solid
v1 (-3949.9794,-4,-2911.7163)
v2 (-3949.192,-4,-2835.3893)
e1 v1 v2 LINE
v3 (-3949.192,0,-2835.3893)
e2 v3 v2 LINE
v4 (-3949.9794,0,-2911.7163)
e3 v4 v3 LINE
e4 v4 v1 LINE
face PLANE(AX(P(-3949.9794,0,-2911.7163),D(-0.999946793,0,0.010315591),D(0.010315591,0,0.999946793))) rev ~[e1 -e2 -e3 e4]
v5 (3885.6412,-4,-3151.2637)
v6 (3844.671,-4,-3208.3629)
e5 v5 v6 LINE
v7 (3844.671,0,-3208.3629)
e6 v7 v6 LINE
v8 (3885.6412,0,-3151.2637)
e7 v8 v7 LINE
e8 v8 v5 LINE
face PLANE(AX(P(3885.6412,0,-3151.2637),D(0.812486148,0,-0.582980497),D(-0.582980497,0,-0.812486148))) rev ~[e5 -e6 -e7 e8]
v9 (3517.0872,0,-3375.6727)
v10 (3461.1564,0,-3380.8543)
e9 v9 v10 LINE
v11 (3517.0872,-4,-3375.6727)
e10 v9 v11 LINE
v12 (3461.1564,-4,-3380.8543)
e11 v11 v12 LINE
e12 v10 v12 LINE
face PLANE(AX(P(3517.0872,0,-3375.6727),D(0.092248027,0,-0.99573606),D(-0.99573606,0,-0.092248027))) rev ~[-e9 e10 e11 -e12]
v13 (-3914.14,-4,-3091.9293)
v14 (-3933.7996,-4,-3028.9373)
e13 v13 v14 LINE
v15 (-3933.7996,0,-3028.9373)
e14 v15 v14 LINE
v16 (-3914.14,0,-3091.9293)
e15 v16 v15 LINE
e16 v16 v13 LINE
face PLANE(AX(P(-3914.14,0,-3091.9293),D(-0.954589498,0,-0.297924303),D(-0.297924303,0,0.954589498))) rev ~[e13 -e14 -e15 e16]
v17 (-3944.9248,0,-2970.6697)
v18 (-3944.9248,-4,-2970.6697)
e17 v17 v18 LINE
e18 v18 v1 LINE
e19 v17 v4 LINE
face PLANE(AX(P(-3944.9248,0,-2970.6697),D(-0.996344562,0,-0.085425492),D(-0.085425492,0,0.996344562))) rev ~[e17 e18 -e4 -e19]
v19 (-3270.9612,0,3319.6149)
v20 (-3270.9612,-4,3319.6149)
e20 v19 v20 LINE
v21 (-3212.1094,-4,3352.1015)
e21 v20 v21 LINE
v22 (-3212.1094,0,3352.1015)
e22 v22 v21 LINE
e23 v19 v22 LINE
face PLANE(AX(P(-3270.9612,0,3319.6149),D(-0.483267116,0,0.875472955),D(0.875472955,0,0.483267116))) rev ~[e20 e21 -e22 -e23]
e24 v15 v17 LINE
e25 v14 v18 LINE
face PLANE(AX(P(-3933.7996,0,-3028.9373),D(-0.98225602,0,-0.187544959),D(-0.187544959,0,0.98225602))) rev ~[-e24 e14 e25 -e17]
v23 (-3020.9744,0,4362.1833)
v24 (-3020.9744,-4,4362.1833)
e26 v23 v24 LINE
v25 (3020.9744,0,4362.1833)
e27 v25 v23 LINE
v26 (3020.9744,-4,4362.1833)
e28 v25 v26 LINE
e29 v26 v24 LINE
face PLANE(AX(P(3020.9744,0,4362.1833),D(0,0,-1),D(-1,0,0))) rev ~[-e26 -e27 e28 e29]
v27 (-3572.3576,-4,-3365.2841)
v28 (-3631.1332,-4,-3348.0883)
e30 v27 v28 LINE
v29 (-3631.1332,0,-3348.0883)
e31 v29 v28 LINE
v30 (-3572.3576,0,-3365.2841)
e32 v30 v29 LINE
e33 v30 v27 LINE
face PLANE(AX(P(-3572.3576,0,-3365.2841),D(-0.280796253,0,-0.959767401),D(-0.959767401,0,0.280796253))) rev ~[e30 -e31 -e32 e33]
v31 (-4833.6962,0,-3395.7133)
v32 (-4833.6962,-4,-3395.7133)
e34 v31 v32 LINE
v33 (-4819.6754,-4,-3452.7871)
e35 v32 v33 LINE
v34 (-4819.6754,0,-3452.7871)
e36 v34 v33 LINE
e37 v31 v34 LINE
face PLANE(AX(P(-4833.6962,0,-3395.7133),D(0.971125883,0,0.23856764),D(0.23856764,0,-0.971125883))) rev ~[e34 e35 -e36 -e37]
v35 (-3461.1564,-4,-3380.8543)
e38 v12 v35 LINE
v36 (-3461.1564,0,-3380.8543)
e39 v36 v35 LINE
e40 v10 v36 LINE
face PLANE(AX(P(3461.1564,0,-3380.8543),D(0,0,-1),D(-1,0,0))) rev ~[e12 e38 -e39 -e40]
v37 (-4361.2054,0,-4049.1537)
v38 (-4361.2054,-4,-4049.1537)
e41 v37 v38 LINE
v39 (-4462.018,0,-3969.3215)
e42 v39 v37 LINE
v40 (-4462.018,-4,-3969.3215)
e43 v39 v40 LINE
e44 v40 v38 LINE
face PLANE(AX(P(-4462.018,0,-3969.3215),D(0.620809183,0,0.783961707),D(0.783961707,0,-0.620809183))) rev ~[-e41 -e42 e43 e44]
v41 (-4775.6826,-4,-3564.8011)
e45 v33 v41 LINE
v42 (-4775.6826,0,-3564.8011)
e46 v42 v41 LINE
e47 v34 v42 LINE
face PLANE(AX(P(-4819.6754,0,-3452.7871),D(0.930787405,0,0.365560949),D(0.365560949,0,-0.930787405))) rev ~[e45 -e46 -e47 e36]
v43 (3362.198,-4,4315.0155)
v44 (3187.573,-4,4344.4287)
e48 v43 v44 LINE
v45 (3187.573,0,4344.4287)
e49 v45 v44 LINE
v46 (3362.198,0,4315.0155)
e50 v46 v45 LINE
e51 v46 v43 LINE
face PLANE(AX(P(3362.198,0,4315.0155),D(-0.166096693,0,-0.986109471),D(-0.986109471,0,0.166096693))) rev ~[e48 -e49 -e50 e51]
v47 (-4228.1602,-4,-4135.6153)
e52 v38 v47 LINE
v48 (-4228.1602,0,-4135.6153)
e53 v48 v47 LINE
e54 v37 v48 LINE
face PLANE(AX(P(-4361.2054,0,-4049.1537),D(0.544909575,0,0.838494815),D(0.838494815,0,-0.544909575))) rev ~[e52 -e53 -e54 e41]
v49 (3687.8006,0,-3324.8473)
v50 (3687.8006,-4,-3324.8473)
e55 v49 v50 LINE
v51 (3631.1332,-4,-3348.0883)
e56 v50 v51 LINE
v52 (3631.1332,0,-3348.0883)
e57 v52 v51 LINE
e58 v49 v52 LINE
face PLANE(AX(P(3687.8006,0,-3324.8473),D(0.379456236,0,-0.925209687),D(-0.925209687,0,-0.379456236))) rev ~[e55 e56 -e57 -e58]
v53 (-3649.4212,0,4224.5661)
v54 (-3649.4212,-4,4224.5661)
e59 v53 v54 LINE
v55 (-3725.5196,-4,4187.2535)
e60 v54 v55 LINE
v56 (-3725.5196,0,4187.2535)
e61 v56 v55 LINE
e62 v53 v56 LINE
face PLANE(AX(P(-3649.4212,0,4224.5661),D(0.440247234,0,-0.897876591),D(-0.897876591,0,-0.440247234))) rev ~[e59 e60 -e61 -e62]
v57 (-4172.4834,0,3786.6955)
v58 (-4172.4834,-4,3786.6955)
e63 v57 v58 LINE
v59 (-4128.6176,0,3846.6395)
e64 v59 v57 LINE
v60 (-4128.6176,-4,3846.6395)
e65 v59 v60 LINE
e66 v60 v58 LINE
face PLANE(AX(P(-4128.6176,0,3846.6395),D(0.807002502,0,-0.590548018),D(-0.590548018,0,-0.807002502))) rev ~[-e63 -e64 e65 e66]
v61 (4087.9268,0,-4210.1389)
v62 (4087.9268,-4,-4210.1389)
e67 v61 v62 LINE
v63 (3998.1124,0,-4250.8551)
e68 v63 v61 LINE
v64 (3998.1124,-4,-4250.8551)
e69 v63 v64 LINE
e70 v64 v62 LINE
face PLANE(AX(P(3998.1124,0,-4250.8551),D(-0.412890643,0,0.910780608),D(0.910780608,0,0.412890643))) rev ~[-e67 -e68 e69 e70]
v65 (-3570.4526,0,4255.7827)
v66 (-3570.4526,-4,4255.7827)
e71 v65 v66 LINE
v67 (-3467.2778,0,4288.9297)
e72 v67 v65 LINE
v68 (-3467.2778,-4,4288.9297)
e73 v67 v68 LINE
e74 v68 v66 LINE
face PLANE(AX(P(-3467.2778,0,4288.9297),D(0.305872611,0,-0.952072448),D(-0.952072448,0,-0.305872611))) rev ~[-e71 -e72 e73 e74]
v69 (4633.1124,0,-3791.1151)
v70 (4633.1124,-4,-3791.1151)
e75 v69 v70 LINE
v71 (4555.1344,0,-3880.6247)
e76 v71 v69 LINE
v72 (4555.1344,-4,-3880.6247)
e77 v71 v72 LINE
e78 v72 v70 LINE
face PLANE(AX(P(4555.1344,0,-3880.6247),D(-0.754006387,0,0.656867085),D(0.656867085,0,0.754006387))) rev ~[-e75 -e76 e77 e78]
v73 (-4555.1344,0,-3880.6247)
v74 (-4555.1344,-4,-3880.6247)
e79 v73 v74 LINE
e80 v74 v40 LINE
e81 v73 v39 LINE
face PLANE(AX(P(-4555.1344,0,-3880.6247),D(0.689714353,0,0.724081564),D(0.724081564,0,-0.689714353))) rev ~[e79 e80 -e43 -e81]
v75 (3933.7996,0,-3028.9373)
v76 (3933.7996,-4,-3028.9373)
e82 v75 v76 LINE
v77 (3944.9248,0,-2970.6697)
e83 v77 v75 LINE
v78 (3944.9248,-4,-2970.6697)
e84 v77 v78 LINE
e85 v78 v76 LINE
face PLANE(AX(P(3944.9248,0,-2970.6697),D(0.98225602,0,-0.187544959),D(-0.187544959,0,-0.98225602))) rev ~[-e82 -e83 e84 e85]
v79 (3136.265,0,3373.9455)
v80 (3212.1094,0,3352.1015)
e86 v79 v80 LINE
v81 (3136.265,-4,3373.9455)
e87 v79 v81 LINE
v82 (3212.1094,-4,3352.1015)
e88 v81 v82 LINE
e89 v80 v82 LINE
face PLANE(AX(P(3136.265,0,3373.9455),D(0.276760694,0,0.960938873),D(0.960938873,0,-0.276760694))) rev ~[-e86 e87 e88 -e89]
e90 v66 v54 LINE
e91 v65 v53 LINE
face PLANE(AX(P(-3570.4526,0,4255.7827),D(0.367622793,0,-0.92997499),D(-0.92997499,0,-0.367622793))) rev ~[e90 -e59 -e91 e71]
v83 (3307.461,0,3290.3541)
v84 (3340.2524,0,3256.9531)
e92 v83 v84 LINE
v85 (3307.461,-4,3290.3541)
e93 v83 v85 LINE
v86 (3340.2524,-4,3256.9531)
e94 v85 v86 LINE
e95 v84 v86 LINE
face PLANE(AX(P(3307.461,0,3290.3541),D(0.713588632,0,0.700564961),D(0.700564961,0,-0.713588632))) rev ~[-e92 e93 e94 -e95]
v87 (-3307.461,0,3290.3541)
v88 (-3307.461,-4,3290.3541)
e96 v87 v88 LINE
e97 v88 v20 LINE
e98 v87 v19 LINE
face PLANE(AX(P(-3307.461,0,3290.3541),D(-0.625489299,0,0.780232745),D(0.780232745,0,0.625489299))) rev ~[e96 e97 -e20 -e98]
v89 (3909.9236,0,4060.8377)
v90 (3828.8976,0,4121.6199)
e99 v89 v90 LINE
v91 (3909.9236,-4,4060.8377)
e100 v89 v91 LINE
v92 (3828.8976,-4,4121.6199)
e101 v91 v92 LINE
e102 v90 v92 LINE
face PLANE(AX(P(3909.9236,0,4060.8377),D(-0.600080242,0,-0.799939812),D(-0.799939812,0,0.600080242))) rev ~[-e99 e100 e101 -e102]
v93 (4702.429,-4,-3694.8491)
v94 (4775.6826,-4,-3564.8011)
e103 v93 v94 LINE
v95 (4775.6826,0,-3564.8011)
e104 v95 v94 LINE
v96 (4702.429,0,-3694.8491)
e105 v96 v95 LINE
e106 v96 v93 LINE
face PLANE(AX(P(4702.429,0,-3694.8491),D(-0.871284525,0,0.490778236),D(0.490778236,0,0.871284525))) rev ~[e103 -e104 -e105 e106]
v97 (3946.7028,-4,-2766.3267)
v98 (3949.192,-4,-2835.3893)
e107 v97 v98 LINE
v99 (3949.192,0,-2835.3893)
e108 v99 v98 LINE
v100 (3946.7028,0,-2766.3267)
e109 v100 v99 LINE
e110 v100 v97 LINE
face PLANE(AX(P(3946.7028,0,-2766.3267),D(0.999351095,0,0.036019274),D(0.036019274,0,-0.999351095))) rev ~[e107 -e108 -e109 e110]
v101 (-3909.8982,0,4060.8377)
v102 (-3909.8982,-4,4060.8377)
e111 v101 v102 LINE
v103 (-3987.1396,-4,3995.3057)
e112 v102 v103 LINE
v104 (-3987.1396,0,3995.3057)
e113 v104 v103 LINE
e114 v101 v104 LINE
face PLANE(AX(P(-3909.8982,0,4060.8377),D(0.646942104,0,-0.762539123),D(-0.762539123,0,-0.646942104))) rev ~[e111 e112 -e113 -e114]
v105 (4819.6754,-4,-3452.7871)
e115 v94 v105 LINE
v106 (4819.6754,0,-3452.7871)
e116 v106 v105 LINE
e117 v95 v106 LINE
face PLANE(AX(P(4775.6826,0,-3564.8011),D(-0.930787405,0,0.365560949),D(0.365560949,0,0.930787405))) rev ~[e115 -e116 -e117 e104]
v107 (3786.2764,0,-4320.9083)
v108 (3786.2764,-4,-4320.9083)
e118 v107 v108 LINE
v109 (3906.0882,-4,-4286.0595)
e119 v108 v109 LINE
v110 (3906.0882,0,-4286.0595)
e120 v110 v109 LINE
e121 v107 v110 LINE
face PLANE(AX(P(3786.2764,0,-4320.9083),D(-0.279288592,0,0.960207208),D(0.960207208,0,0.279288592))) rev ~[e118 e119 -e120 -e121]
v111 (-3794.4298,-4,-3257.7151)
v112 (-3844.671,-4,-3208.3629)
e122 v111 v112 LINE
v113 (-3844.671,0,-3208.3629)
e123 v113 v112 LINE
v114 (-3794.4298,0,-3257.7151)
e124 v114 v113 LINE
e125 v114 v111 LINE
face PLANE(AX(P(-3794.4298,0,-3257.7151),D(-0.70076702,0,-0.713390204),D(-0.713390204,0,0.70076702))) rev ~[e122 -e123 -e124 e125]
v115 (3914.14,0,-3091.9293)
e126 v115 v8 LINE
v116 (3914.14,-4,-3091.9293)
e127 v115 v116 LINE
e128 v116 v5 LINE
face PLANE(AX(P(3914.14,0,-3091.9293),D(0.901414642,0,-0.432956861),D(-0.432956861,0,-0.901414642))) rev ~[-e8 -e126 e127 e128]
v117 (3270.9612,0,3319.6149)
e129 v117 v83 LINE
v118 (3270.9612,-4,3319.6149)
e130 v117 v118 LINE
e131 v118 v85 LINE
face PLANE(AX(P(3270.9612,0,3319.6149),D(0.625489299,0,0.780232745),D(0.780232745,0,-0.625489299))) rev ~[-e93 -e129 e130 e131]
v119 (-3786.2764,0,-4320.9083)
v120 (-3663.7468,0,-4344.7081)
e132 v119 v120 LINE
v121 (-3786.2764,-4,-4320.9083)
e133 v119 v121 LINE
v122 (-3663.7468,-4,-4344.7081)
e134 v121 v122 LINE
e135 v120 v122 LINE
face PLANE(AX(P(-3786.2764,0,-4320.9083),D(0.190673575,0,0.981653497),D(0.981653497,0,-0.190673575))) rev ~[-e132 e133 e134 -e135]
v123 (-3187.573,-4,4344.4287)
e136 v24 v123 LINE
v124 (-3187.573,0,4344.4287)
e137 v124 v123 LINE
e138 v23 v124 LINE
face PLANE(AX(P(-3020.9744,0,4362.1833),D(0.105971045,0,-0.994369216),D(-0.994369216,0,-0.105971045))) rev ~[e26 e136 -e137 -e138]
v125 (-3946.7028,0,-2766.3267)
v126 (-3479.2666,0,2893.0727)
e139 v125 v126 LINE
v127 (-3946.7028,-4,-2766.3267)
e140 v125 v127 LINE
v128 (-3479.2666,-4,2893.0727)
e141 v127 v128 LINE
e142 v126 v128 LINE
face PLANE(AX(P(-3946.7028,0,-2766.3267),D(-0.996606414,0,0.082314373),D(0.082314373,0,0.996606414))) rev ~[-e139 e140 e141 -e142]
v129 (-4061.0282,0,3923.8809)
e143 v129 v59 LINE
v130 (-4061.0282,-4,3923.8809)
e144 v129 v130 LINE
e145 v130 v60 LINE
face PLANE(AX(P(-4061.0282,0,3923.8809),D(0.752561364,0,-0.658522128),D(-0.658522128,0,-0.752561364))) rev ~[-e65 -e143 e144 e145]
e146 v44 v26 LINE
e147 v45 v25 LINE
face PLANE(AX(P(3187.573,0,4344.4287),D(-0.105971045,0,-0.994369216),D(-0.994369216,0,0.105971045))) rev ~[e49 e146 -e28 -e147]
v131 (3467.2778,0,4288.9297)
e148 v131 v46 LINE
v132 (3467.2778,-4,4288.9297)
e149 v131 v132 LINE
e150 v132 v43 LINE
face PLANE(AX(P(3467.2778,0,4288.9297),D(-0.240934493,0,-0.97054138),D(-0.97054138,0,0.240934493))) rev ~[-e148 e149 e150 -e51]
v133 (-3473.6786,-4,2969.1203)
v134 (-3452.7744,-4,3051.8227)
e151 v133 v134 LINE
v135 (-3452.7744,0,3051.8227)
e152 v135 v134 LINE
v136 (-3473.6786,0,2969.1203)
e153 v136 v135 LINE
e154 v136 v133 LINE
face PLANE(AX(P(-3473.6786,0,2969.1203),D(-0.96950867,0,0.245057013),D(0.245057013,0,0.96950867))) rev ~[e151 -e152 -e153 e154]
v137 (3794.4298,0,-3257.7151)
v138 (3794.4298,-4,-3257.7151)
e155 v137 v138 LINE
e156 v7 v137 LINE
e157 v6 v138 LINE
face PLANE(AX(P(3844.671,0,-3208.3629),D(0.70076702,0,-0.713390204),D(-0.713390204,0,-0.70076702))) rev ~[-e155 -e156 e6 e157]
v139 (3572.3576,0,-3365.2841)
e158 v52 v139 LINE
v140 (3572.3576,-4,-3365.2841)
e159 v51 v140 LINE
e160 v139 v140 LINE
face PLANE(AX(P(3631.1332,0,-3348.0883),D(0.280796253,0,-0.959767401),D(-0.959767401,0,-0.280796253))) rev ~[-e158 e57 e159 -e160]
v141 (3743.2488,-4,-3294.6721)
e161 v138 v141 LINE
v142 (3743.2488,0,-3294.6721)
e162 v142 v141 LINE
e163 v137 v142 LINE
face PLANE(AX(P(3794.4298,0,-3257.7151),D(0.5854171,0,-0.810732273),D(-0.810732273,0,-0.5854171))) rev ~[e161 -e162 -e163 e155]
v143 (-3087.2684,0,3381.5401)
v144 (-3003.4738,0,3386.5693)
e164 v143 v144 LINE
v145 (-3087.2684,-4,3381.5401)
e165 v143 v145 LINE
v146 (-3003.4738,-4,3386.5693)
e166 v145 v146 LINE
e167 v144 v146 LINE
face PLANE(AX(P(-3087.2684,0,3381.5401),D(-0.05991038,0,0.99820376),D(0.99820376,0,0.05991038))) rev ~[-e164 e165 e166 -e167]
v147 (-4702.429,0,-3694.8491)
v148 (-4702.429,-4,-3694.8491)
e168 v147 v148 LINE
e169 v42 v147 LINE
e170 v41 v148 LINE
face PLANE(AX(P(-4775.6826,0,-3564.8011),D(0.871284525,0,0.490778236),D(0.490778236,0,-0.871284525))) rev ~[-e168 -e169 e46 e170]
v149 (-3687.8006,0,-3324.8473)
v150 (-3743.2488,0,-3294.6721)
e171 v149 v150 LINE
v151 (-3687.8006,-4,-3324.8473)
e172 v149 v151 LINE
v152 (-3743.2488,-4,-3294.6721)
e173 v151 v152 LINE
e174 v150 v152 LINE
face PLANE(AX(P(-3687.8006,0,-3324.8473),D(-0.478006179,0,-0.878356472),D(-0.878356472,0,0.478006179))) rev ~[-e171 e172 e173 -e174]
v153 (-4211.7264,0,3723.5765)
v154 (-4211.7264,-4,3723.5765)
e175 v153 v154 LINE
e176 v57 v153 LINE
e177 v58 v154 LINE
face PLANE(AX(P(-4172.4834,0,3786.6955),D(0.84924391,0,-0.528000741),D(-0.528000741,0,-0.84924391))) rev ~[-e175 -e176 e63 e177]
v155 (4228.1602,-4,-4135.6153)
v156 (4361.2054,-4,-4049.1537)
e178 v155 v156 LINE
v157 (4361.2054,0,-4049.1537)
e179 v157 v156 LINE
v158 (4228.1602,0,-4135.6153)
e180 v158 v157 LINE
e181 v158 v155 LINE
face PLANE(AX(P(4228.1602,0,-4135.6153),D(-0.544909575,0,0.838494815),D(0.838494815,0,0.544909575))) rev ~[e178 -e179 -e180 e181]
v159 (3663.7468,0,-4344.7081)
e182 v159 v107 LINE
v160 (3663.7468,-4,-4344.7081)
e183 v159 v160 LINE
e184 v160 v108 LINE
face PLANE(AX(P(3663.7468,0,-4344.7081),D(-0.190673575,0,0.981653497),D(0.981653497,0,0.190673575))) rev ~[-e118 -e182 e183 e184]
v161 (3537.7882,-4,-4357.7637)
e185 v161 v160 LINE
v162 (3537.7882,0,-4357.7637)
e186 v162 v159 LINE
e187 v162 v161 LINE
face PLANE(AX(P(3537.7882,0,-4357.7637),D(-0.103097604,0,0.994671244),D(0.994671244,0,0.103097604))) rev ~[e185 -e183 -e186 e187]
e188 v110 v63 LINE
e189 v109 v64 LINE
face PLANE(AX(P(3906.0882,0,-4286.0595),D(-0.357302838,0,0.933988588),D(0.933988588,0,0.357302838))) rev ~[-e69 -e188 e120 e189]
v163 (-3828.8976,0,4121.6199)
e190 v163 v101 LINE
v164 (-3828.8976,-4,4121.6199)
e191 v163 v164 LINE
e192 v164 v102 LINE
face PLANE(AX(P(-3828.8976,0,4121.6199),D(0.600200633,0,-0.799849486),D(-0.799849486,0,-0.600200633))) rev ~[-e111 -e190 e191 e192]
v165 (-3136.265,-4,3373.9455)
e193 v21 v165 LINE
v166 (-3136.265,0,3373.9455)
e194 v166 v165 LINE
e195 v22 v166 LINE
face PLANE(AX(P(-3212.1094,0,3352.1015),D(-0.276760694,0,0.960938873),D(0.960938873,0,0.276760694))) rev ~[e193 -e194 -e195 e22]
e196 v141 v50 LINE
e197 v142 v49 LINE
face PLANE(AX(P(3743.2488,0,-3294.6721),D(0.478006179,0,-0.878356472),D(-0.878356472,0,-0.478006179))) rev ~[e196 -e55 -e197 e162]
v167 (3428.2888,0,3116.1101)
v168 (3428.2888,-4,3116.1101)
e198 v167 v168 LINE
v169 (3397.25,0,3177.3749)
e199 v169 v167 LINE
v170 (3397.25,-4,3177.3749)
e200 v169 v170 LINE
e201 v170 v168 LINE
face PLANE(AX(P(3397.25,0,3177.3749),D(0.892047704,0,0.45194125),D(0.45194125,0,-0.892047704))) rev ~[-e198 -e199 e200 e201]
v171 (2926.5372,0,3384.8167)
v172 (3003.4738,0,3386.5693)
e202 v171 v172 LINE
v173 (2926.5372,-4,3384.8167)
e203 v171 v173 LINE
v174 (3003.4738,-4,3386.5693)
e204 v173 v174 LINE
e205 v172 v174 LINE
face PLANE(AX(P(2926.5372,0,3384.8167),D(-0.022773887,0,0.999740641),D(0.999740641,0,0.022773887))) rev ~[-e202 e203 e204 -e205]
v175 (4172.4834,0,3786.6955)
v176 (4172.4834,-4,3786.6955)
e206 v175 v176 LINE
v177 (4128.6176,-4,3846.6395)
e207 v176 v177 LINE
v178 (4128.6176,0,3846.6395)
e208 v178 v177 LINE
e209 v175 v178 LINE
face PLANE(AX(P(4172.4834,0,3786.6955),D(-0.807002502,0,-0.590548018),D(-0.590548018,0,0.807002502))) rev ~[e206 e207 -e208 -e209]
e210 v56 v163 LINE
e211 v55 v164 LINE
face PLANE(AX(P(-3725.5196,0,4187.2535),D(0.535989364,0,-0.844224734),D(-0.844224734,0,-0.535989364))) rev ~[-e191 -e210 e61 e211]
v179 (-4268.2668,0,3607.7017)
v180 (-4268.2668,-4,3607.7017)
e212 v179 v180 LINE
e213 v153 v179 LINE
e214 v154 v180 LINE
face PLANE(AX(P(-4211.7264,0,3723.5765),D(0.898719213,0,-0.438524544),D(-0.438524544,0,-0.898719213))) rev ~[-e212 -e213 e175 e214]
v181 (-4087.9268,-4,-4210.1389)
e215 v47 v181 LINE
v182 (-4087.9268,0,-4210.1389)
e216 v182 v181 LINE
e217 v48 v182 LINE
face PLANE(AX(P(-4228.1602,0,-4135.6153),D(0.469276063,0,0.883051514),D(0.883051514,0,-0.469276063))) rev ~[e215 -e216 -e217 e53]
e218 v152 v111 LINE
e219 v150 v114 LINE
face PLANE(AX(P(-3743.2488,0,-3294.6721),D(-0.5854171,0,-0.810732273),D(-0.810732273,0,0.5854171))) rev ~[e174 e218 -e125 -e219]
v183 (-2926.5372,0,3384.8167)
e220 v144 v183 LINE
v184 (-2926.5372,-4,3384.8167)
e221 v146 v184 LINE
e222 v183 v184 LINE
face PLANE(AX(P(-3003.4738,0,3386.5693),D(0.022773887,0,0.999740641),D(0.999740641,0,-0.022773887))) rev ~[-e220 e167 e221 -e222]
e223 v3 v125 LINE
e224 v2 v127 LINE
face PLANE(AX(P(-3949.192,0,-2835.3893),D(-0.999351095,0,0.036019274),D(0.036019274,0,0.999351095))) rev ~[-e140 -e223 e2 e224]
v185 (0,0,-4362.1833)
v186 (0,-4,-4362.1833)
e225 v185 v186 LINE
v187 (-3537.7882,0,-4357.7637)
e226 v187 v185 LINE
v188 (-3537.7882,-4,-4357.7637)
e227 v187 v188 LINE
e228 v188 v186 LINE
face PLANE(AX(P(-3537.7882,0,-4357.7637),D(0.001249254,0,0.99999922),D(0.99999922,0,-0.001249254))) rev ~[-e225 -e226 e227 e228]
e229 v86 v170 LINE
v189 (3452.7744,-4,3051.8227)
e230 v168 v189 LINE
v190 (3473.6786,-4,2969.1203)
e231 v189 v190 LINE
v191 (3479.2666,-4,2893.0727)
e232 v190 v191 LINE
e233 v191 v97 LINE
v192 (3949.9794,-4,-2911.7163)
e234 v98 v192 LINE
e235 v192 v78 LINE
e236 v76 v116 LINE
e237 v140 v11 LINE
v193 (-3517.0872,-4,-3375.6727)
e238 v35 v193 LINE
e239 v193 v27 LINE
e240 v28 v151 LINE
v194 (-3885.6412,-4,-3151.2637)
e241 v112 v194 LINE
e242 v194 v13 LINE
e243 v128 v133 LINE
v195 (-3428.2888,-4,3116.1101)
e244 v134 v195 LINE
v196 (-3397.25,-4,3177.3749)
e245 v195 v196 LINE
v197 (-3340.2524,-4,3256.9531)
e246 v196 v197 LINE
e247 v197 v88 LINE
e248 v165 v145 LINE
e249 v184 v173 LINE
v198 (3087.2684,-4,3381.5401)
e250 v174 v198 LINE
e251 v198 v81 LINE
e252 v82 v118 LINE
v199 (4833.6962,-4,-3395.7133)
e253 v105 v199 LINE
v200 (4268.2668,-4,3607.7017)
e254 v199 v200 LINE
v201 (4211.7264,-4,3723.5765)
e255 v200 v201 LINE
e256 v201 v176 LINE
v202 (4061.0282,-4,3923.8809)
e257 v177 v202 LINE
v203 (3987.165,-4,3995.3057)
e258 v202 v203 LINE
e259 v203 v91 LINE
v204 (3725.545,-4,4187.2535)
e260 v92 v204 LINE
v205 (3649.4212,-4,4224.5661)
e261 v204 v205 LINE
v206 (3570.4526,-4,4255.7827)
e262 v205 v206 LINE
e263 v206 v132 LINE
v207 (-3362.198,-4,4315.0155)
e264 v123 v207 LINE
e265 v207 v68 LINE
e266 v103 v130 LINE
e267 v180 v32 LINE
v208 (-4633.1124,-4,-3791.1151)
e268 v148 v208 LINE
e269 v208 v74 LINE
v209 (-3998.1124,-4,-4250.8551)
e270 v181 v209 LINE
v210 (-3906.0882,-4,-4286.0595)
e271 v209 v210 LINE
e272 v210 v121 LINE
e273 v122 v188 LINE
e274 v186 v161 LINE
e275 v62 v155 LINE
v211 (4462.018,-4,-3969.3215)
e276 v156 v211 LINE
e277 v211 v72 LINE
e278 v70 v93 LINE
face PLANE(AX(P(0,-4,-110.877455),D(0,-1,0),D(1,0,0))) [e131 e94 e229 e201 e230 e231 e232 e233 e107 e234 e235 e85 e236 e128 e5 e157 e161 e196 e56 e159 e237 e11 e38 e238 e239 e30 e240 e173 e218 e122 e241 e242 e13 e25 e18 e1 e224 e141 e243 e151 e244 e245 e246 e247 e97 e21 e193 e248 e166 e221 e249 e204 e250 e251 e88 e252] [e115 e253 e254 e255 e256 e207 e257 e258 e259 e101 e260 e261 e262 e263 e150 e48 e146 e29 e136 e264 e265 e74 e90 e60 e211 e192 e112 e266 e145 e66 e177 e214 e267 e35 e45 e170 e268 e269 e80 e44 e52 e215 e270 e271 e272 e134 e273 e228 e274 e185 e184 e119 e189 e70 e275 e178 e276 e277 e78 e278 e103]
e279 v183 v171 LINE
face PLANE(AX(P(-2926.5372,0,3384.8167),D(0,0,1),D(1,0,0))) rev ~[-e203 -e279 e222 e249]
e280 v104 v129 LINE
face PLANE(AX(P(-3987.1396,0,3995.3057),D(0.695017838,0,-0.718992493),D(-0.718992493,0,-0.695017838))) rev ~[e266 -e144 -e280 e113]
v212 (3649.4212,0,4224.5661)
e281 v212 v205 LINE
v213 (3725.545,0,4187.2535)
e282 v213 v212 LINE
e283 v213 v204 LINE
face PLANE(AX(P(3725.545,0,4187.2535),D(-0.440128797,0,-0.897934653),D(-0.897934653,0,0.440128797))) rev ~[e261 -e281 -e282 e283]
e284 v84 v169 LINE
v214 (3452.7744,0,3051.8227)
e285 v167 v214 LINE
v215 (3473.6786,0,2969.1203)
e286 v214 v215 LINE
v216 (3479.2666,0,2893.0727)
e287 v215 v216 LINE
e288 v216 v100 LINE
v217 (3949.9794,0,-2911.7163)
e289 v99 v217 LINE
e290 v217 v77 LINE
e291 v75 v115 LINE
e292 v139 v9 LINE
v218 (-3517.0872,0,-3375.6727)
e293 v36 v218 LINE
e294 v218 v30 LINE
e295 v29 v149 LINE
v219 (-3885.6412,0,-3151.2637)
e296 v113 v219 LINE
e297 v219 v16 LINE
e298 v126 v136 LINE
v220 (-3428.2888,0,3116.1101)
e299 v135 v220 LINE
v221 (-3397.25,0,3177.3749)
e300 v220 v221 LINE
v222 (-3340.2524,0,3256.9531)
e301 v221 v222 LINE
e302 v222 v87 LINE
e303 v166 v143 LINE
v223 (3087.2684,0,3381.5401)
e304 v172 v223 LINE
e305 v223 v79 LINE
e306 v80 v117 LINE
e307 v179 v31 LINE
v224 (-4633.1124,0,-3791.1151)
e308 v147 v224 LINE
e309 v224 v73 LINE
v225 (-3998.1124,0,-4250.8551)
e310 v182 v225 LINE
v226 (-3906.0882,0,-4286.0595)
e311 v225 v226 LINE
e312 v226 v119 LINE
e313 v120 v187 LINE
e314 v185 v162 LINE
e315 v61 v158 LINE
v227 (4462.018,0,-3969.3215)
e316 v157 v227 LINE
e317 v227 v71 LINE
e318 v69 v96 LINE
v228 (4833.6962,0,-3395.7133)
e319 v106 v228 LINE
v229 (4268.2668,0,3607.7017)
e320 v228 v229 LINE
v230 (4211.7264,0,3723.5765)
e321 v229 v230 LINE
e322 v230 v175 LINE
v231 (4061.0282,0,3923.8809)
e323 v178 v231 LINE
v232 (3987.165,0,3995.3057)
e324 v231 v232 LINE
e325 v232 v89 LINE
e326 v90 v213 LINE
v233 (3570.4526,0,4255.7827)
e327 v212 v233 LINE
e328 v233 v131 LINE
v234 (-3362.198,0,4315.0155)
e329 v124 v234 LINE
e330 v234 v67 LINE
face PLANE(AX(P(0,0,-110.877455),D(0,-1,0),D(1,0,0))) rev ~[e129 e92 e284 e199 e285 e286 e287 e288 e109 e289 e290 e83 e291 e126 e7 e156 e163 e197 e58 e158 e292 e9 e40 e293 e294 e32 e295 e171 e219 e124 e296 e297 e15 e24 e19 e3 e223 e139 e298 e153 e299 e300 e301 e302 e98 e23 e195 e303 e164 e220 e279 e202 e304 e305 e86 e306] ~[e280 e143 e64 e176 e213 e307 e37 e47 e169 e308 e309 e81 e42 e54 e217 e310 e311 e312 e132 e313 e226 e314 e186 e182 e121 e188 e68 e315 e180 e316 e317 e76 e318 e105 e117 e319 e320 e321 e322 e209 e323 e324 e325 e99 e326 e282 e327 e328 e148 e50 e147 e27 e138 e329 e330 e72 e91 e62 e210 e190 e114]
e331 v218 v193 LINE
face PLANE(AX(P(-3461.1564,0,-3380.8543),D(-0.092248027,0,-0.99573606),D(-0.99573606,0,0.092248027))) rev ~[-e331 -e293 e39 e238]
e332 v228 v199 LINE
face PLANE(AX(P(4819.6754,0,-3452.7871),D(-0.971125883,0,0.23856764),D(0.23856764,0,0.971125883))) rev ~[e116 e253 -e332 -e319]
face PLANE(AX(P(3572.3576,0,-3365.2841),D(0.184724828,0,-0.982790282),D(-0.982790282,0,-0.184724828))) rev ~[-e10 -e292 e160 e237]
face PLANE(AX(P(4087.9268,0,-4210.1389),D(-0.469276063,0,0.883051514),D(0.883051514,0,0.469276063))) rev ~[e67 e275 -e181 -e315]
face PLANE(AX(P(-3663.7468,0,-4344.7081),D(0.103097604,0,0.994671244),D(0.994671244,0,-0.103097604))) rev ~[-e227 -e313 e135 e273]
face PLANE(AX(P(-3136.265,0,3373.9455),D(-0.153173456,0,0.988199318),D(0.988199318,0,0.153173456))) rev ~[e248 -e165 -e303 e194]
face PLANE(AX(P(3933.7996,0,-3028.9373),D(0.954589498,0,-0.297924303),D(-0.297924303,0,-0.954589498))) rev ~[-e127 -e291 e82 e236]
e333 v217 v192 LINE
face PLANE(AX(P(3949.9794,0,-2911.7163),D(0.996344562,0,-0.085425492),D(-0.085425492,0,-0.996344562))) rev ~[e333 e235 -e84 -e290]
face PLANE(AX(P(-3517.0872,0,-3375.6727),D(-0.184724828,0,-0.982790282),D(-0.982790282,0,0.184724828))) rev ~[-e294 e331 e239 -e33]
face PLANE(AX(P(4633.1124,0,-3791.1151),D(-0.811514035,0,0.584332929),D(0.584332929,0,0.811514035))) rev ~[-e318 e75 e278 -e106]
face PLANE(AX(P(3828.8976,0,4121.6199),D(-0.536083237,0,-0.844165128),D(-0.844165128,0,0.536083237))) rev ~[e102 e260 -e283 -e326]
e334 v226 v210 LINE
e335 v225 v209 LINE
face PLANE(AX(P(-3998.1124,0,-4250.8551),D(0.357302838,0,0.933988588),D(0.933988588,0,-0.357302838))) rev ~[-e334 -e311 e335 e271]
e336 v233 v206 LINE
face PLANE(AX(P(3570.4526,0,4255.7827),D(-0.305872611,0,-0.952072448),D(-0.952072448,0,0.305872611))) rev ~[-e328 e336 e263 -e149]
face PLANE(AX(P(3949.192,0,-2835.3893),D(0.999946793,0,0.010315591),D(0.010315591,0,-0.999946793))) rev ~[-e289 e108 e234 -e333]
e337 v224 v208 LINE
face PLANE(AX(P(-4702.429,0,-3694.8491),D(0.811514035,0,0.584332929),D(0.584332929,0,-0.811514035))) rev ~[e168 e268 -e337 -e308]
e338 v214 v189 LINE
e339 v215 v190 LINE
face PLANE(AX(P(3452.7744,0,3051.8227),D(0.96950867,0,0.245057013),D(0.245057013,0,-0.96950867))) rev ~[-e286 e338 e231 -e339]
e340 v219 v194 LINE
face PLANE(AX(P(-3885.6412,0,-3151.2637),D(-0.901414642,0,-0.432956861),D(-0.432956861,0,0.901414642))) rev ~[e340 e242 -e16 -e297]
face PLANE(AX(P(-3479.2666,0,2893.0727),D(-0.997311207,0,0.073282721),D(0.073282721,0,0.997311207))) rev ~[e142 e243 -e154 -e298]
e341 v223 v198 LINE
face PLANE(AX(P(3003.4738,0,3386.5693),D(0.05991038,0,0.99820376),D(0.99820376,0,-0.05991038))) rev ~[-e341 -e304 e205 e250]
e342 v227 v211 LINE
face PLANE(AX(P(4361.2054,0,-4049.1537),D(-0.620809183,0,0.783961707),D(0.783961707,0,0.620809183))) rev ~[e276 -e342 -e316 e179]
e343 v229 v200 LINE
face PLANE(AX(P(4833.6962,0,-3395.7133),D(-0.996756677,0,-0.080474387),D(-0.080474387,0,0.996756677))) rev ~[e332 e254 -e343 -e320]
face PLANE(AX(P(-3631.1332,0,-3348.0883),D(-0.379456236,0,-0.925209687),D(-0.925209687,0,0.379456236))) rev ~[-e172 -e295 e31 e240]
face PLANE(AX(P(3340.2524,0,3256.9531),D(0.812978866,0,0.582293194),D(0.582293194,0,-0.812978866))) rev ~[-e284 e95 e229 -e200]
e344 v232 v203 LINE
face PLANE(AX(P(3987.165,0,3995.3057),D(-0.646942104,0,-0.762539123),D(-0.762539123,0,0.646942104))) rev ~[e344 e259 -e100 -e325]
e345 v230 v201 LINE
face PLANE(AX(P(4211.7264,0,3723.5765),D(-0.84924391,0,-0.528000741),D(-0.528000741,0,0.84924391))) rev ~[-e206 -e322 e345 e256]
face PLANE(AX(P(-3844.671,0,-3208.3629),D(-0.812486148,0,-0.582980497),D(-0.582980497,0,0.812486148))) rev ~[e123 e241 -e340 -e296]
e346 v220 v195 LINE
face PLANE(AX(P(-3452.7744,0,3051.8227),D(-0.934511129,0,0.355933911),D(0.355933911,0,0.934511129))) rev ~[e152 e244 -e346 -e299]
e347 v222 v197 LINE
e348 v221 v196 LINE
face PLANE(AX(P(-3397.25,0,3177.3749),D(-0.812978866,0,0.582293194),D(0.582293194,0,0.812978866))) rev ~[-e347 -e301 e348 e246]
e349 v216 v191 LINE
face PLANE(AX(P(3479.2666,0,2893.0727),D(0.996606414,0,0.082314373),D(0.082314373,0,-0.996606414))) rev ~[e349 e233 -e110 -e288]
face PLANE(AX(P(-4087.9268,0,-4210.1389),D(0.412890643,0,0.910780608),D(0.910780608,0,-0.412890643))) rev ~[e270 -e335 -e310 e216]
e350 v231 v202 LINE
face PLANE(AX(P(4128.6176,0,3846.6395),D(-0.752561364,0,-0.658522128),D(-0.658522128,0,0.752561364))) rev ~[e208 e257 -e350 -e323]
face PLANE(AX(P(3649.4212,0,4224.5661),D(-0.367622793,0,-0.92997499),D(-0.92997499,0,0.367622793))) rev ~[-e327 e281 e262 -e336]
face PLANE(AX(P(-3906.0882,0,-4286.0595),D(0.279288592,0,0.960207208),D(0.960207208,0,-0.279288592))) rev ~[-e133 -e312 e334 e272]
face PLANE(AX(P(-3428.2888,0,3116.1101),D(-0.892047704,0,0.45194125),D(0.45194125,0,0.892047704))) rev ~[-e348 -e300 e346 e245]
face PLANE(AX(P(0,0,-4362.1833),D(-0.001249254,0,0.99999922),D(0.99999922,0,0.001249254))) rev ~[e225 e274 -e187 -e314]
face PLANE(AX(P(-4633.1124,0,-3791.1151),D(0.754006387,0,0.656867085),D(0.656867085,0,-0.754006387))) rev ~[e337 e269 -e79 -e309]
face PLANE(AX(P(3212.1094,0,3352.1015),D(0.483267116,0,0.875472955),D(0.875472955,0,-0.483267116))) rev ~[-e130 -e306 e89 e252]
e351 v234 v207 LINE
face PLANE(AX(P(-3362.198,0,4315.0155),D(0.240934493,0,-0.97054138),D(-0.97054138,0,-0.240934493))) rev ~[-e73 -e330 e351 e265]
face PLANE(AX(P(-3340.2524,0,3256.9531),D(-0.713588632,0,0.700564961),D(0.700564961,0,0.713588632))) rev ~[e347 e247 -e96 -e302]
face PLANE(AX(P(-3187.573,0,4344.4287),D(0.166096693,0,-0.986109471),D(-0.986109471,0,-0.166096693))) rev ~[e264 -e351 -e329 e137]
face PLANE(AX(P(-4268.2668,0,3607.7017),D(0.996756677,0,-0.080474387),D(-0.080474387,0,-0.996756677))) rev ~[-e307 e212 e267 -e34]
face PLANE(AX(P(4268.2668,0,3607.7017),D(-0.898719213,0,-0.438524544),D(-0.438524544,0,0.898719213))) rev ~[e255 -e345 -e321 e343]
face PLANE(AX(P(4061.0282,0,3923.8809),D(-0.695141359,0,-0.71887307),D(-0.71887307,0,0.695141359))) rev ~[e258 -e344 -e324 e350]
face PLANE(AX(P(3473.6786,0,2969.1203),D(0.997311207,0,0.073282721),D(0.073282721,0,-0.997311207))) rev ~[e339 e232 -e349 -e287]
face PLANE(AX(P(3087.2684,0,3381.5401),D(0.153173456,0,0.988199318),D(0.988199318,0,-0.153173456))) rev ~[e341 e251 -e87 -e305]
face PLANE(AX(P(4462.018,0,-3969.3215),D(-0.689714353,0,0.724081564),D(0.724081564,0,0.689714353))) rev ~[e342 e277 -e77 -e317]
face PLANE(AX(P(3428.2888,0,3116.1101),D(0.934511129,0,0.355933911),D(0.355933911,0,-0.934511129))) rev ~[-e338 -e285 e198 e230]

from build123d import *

# Parameters (mm, degrees)
F1_DEPTH = 4


with BuildPart() as f1:
    # F0 (on Front) → F1 (new body)
    with BuildSketch(Plane.XZ):
        Polygon((1097.0768, 3384.8167), (0, 3384.8167), (-1097.0768, 3384.8167), (-2926.5372, 3384.8167), (-3003.4738, 3386.5693), (-3087.2684, 3381.5401), (-3136.265, 3373.9455), (-3212.1094, 3352.1015), (-3270.9612, 3319.6149), (-3307.461, 3290.3541), (-3340.2524, 3256.9531), (-3397.25, 3177.3749), (-3428.2888, 3116.1101), (-3452.7744, 3051.8227), (-3473.6786, 2969.1203), (-3479.2666, 2893.0727), (-3946.7028, -2766.3267), (-3949.192, -2835.3893), (-3949.9794, -2911.7163), (-3944.9248, -2970.6697), (-3933.7996, -3028.9373), (-3914.14, -3091.9293), (-3885.6412, -3151.2637), (-3844.671, -3208.3629), (-3794.4298, -3257.7151), (-3743.2488, -3294.6721), (-3687.8006, -3324.8473), (-3631.1332, -3348.0883), (-3572.3576, -3365.2841), (-3517.0872, -3375.6727), (-3461.1564, -3380.8543), (0, -3380.8543), (3461.1564, -3380.8543), (3517.0872, -3375.6727), (3572.3576, -3365.2841), (3631.1332, -3348.0883), (3687.8006, -3324.8473), (3743.2488, -3294.6721), (3794.4298, -3257.7151), (3844.671, -3208.3629), (3885.6412, -3151.2637), (3914.14, -3091.9293), (3933.7996, -3028.9373), (3944.9248, -2970.6697), (3949.9794, -2911.7163), (3949.192, -2835.3893), (3946.7028, -2766.3267), (3479.2666, 2893.0727), (3473.6786, 2969.1203), (3452.7744, 3051.8227), (3428.2888, 3116.1101), (3397.25, 3177.3749), (3340.2524, 3256.9531), (3307.461, 3290.3541), (3270.9612, 3319.6149), (3212.1094, 3352.1015), (3136.265, 3373.9455), (3087.2684, 3381.5401), (3003.4738, 3386.5693), (2926.5372, 3384.8167), align=None)
        Polygon((1600.5556, 4362.1833), (0, 4362.1833), (-1600.5556, 4362.1833), (-3020.9744, 4362.1833), (-3187.573, 4344.4287), (-3362.198, 4315.0155), (-3467.2778, 4288.9297), (-3570.4526, 4255.7827), (-3649.4212, 4224.5661), (-3725.5196, 4187.2535), (-3828.8976, 4121.6199), (-3909.8982, 4060.8377), (-3987.1396, 3995.3057), (-4061.0282, 3923.8809), (-4128.6176, 3846.6395), (-4172.4834, 3786.6955), (-4211.7264, 3723.5765), (-4268.2668, 3607.7017), (-4833.6962, -3395.7133), (-4819.6754, -3452.7871), (-4775.6826, -3564.8011), (-4702.429, -3694.8491), (-4633.1124, -3791.1151), (-4555.1344, -3880.6247), (-4462.018, -3969.3215), (-4361.2054, -4049.1537), (-4228.1602, -4135.6153), (-4087.9268, -4210.1389), (-3998.1124, -4250.8551), (-3906.0882, -4286.0595), (-3786.2764, -4320.9083), (-3663.7468, -4344.7081), (-3537.7882, -4357.7637), (0, -4362.1833), (3537.7882, -4357.7637), (3663.7468, -4344.7081), (3786.2764, -4320.9083), (3906.0882, -4286.0595), (3998.1124, -4250.8551), (4087.9268, -4210.1389), (4228.1602, -4135.6153), (4361.2054, -4049.1537), (4462.018, -3969.3215), (4555.1344, -3880.6247), (4633.1124, -3791.1151), (4702.429, -3694.8491), (4775.6826, -3564.8011), (4819.6754, -3452.7871), (4833.6962, -3395.7133), (4268.2668, 3607.7017), (4211.7264, 3723.5765), (4172.4834, 3786.6955), (4128.6176, 3846.6395), (4061.0282, 3923.8809), (3987.165, 3995.3057), (3909.9236, 4060.8377), (3828.8976, 4121.6199), (3725.545, 4187.2535), (3649.4212, 4224.5661), (3570.4526, 4255.7827), (3467.2778, 4288.9297), (3362.198, 4315.0155), (3187.573, 4344.4287), (3020.9744, 4362.1833), align=None)
        Polygon((-1097.0768, 3384.8167), (0, 3384.8167), (1097.0768, 3384.8167), (2926.5372, 3384.8167), (3003.4738, 3386.5693), (3087.2684, 3381.5401), (3136.265, 3373.9455), (3212.1094, 3352.1015), (3270.9612, 3319.6149), (3307.461, 3290.3541), (3340.2524, 3256.9531), (3397.25, 3177.3749), (3428.2888, 3116.1101), (3452.7744, 3051.8227), (3473.6786, 2969.1203), (3479.2666, 2893.0727), (3946.7028, -2766.3267), (3949.192, -2835.3893), (3949.9794, -2911.7163), (3944.9248, -2970.6697), (3933.7996, -3028.9373), (3914.14, -3091.9293), (3885.6412, -3151.2637), (3844.671, -3208.3629), (3794.4298, -3257.7151), (3743.2488, -3294.6721), (3687.8006, -3324.8473), (3631.1332, -3348.0883), (3572.3576, -3365.2841), (3517.0872, -3375.6727), (3461.1564, -3380.8543), (0, -3380.8543), (-3461.1564, -3380.8543), (-3517.0872, -3375.6727), (-3572.3576, -3365.2841), (-3631.1332, -3348.0883), (-3687.8006, -3324.8473), (-3743.2488, -3294.6721), (-3794.4298, -3257.7151), (-3844.671, -3208.3629), (-3885.6412, -3151.2637), (-3914.14, -3091.9293), (-3933.7996, -3028.9373), (-3944.9248, -2970.6697), (-3949.9794, -2911.7163), (-3949.192, -2835.3893), (-3946.7028, -2766.3267), (-3479.2666, 2893.0727), (-3473.6786, 2969.1203), (-3452.7744, 3051.8227), (-3428.2888, 3116.1101), (-3397.25, 3177.3749), (-3340.2524, 3256.9531), (-3307.461, 3290.3541), (-3270.9612, 3319.6149), (-3212.1094, 3352.1015), (-3136.265, 3373.9455), (-3087.2684, 3381.5401), (-3003.4738, 3386.5693), (-2926.5372, 3384.8167), align=None, mode=Mode.SUBTRACT)
    extrude(amount=F1_DEPTH)


solid = f1.part
